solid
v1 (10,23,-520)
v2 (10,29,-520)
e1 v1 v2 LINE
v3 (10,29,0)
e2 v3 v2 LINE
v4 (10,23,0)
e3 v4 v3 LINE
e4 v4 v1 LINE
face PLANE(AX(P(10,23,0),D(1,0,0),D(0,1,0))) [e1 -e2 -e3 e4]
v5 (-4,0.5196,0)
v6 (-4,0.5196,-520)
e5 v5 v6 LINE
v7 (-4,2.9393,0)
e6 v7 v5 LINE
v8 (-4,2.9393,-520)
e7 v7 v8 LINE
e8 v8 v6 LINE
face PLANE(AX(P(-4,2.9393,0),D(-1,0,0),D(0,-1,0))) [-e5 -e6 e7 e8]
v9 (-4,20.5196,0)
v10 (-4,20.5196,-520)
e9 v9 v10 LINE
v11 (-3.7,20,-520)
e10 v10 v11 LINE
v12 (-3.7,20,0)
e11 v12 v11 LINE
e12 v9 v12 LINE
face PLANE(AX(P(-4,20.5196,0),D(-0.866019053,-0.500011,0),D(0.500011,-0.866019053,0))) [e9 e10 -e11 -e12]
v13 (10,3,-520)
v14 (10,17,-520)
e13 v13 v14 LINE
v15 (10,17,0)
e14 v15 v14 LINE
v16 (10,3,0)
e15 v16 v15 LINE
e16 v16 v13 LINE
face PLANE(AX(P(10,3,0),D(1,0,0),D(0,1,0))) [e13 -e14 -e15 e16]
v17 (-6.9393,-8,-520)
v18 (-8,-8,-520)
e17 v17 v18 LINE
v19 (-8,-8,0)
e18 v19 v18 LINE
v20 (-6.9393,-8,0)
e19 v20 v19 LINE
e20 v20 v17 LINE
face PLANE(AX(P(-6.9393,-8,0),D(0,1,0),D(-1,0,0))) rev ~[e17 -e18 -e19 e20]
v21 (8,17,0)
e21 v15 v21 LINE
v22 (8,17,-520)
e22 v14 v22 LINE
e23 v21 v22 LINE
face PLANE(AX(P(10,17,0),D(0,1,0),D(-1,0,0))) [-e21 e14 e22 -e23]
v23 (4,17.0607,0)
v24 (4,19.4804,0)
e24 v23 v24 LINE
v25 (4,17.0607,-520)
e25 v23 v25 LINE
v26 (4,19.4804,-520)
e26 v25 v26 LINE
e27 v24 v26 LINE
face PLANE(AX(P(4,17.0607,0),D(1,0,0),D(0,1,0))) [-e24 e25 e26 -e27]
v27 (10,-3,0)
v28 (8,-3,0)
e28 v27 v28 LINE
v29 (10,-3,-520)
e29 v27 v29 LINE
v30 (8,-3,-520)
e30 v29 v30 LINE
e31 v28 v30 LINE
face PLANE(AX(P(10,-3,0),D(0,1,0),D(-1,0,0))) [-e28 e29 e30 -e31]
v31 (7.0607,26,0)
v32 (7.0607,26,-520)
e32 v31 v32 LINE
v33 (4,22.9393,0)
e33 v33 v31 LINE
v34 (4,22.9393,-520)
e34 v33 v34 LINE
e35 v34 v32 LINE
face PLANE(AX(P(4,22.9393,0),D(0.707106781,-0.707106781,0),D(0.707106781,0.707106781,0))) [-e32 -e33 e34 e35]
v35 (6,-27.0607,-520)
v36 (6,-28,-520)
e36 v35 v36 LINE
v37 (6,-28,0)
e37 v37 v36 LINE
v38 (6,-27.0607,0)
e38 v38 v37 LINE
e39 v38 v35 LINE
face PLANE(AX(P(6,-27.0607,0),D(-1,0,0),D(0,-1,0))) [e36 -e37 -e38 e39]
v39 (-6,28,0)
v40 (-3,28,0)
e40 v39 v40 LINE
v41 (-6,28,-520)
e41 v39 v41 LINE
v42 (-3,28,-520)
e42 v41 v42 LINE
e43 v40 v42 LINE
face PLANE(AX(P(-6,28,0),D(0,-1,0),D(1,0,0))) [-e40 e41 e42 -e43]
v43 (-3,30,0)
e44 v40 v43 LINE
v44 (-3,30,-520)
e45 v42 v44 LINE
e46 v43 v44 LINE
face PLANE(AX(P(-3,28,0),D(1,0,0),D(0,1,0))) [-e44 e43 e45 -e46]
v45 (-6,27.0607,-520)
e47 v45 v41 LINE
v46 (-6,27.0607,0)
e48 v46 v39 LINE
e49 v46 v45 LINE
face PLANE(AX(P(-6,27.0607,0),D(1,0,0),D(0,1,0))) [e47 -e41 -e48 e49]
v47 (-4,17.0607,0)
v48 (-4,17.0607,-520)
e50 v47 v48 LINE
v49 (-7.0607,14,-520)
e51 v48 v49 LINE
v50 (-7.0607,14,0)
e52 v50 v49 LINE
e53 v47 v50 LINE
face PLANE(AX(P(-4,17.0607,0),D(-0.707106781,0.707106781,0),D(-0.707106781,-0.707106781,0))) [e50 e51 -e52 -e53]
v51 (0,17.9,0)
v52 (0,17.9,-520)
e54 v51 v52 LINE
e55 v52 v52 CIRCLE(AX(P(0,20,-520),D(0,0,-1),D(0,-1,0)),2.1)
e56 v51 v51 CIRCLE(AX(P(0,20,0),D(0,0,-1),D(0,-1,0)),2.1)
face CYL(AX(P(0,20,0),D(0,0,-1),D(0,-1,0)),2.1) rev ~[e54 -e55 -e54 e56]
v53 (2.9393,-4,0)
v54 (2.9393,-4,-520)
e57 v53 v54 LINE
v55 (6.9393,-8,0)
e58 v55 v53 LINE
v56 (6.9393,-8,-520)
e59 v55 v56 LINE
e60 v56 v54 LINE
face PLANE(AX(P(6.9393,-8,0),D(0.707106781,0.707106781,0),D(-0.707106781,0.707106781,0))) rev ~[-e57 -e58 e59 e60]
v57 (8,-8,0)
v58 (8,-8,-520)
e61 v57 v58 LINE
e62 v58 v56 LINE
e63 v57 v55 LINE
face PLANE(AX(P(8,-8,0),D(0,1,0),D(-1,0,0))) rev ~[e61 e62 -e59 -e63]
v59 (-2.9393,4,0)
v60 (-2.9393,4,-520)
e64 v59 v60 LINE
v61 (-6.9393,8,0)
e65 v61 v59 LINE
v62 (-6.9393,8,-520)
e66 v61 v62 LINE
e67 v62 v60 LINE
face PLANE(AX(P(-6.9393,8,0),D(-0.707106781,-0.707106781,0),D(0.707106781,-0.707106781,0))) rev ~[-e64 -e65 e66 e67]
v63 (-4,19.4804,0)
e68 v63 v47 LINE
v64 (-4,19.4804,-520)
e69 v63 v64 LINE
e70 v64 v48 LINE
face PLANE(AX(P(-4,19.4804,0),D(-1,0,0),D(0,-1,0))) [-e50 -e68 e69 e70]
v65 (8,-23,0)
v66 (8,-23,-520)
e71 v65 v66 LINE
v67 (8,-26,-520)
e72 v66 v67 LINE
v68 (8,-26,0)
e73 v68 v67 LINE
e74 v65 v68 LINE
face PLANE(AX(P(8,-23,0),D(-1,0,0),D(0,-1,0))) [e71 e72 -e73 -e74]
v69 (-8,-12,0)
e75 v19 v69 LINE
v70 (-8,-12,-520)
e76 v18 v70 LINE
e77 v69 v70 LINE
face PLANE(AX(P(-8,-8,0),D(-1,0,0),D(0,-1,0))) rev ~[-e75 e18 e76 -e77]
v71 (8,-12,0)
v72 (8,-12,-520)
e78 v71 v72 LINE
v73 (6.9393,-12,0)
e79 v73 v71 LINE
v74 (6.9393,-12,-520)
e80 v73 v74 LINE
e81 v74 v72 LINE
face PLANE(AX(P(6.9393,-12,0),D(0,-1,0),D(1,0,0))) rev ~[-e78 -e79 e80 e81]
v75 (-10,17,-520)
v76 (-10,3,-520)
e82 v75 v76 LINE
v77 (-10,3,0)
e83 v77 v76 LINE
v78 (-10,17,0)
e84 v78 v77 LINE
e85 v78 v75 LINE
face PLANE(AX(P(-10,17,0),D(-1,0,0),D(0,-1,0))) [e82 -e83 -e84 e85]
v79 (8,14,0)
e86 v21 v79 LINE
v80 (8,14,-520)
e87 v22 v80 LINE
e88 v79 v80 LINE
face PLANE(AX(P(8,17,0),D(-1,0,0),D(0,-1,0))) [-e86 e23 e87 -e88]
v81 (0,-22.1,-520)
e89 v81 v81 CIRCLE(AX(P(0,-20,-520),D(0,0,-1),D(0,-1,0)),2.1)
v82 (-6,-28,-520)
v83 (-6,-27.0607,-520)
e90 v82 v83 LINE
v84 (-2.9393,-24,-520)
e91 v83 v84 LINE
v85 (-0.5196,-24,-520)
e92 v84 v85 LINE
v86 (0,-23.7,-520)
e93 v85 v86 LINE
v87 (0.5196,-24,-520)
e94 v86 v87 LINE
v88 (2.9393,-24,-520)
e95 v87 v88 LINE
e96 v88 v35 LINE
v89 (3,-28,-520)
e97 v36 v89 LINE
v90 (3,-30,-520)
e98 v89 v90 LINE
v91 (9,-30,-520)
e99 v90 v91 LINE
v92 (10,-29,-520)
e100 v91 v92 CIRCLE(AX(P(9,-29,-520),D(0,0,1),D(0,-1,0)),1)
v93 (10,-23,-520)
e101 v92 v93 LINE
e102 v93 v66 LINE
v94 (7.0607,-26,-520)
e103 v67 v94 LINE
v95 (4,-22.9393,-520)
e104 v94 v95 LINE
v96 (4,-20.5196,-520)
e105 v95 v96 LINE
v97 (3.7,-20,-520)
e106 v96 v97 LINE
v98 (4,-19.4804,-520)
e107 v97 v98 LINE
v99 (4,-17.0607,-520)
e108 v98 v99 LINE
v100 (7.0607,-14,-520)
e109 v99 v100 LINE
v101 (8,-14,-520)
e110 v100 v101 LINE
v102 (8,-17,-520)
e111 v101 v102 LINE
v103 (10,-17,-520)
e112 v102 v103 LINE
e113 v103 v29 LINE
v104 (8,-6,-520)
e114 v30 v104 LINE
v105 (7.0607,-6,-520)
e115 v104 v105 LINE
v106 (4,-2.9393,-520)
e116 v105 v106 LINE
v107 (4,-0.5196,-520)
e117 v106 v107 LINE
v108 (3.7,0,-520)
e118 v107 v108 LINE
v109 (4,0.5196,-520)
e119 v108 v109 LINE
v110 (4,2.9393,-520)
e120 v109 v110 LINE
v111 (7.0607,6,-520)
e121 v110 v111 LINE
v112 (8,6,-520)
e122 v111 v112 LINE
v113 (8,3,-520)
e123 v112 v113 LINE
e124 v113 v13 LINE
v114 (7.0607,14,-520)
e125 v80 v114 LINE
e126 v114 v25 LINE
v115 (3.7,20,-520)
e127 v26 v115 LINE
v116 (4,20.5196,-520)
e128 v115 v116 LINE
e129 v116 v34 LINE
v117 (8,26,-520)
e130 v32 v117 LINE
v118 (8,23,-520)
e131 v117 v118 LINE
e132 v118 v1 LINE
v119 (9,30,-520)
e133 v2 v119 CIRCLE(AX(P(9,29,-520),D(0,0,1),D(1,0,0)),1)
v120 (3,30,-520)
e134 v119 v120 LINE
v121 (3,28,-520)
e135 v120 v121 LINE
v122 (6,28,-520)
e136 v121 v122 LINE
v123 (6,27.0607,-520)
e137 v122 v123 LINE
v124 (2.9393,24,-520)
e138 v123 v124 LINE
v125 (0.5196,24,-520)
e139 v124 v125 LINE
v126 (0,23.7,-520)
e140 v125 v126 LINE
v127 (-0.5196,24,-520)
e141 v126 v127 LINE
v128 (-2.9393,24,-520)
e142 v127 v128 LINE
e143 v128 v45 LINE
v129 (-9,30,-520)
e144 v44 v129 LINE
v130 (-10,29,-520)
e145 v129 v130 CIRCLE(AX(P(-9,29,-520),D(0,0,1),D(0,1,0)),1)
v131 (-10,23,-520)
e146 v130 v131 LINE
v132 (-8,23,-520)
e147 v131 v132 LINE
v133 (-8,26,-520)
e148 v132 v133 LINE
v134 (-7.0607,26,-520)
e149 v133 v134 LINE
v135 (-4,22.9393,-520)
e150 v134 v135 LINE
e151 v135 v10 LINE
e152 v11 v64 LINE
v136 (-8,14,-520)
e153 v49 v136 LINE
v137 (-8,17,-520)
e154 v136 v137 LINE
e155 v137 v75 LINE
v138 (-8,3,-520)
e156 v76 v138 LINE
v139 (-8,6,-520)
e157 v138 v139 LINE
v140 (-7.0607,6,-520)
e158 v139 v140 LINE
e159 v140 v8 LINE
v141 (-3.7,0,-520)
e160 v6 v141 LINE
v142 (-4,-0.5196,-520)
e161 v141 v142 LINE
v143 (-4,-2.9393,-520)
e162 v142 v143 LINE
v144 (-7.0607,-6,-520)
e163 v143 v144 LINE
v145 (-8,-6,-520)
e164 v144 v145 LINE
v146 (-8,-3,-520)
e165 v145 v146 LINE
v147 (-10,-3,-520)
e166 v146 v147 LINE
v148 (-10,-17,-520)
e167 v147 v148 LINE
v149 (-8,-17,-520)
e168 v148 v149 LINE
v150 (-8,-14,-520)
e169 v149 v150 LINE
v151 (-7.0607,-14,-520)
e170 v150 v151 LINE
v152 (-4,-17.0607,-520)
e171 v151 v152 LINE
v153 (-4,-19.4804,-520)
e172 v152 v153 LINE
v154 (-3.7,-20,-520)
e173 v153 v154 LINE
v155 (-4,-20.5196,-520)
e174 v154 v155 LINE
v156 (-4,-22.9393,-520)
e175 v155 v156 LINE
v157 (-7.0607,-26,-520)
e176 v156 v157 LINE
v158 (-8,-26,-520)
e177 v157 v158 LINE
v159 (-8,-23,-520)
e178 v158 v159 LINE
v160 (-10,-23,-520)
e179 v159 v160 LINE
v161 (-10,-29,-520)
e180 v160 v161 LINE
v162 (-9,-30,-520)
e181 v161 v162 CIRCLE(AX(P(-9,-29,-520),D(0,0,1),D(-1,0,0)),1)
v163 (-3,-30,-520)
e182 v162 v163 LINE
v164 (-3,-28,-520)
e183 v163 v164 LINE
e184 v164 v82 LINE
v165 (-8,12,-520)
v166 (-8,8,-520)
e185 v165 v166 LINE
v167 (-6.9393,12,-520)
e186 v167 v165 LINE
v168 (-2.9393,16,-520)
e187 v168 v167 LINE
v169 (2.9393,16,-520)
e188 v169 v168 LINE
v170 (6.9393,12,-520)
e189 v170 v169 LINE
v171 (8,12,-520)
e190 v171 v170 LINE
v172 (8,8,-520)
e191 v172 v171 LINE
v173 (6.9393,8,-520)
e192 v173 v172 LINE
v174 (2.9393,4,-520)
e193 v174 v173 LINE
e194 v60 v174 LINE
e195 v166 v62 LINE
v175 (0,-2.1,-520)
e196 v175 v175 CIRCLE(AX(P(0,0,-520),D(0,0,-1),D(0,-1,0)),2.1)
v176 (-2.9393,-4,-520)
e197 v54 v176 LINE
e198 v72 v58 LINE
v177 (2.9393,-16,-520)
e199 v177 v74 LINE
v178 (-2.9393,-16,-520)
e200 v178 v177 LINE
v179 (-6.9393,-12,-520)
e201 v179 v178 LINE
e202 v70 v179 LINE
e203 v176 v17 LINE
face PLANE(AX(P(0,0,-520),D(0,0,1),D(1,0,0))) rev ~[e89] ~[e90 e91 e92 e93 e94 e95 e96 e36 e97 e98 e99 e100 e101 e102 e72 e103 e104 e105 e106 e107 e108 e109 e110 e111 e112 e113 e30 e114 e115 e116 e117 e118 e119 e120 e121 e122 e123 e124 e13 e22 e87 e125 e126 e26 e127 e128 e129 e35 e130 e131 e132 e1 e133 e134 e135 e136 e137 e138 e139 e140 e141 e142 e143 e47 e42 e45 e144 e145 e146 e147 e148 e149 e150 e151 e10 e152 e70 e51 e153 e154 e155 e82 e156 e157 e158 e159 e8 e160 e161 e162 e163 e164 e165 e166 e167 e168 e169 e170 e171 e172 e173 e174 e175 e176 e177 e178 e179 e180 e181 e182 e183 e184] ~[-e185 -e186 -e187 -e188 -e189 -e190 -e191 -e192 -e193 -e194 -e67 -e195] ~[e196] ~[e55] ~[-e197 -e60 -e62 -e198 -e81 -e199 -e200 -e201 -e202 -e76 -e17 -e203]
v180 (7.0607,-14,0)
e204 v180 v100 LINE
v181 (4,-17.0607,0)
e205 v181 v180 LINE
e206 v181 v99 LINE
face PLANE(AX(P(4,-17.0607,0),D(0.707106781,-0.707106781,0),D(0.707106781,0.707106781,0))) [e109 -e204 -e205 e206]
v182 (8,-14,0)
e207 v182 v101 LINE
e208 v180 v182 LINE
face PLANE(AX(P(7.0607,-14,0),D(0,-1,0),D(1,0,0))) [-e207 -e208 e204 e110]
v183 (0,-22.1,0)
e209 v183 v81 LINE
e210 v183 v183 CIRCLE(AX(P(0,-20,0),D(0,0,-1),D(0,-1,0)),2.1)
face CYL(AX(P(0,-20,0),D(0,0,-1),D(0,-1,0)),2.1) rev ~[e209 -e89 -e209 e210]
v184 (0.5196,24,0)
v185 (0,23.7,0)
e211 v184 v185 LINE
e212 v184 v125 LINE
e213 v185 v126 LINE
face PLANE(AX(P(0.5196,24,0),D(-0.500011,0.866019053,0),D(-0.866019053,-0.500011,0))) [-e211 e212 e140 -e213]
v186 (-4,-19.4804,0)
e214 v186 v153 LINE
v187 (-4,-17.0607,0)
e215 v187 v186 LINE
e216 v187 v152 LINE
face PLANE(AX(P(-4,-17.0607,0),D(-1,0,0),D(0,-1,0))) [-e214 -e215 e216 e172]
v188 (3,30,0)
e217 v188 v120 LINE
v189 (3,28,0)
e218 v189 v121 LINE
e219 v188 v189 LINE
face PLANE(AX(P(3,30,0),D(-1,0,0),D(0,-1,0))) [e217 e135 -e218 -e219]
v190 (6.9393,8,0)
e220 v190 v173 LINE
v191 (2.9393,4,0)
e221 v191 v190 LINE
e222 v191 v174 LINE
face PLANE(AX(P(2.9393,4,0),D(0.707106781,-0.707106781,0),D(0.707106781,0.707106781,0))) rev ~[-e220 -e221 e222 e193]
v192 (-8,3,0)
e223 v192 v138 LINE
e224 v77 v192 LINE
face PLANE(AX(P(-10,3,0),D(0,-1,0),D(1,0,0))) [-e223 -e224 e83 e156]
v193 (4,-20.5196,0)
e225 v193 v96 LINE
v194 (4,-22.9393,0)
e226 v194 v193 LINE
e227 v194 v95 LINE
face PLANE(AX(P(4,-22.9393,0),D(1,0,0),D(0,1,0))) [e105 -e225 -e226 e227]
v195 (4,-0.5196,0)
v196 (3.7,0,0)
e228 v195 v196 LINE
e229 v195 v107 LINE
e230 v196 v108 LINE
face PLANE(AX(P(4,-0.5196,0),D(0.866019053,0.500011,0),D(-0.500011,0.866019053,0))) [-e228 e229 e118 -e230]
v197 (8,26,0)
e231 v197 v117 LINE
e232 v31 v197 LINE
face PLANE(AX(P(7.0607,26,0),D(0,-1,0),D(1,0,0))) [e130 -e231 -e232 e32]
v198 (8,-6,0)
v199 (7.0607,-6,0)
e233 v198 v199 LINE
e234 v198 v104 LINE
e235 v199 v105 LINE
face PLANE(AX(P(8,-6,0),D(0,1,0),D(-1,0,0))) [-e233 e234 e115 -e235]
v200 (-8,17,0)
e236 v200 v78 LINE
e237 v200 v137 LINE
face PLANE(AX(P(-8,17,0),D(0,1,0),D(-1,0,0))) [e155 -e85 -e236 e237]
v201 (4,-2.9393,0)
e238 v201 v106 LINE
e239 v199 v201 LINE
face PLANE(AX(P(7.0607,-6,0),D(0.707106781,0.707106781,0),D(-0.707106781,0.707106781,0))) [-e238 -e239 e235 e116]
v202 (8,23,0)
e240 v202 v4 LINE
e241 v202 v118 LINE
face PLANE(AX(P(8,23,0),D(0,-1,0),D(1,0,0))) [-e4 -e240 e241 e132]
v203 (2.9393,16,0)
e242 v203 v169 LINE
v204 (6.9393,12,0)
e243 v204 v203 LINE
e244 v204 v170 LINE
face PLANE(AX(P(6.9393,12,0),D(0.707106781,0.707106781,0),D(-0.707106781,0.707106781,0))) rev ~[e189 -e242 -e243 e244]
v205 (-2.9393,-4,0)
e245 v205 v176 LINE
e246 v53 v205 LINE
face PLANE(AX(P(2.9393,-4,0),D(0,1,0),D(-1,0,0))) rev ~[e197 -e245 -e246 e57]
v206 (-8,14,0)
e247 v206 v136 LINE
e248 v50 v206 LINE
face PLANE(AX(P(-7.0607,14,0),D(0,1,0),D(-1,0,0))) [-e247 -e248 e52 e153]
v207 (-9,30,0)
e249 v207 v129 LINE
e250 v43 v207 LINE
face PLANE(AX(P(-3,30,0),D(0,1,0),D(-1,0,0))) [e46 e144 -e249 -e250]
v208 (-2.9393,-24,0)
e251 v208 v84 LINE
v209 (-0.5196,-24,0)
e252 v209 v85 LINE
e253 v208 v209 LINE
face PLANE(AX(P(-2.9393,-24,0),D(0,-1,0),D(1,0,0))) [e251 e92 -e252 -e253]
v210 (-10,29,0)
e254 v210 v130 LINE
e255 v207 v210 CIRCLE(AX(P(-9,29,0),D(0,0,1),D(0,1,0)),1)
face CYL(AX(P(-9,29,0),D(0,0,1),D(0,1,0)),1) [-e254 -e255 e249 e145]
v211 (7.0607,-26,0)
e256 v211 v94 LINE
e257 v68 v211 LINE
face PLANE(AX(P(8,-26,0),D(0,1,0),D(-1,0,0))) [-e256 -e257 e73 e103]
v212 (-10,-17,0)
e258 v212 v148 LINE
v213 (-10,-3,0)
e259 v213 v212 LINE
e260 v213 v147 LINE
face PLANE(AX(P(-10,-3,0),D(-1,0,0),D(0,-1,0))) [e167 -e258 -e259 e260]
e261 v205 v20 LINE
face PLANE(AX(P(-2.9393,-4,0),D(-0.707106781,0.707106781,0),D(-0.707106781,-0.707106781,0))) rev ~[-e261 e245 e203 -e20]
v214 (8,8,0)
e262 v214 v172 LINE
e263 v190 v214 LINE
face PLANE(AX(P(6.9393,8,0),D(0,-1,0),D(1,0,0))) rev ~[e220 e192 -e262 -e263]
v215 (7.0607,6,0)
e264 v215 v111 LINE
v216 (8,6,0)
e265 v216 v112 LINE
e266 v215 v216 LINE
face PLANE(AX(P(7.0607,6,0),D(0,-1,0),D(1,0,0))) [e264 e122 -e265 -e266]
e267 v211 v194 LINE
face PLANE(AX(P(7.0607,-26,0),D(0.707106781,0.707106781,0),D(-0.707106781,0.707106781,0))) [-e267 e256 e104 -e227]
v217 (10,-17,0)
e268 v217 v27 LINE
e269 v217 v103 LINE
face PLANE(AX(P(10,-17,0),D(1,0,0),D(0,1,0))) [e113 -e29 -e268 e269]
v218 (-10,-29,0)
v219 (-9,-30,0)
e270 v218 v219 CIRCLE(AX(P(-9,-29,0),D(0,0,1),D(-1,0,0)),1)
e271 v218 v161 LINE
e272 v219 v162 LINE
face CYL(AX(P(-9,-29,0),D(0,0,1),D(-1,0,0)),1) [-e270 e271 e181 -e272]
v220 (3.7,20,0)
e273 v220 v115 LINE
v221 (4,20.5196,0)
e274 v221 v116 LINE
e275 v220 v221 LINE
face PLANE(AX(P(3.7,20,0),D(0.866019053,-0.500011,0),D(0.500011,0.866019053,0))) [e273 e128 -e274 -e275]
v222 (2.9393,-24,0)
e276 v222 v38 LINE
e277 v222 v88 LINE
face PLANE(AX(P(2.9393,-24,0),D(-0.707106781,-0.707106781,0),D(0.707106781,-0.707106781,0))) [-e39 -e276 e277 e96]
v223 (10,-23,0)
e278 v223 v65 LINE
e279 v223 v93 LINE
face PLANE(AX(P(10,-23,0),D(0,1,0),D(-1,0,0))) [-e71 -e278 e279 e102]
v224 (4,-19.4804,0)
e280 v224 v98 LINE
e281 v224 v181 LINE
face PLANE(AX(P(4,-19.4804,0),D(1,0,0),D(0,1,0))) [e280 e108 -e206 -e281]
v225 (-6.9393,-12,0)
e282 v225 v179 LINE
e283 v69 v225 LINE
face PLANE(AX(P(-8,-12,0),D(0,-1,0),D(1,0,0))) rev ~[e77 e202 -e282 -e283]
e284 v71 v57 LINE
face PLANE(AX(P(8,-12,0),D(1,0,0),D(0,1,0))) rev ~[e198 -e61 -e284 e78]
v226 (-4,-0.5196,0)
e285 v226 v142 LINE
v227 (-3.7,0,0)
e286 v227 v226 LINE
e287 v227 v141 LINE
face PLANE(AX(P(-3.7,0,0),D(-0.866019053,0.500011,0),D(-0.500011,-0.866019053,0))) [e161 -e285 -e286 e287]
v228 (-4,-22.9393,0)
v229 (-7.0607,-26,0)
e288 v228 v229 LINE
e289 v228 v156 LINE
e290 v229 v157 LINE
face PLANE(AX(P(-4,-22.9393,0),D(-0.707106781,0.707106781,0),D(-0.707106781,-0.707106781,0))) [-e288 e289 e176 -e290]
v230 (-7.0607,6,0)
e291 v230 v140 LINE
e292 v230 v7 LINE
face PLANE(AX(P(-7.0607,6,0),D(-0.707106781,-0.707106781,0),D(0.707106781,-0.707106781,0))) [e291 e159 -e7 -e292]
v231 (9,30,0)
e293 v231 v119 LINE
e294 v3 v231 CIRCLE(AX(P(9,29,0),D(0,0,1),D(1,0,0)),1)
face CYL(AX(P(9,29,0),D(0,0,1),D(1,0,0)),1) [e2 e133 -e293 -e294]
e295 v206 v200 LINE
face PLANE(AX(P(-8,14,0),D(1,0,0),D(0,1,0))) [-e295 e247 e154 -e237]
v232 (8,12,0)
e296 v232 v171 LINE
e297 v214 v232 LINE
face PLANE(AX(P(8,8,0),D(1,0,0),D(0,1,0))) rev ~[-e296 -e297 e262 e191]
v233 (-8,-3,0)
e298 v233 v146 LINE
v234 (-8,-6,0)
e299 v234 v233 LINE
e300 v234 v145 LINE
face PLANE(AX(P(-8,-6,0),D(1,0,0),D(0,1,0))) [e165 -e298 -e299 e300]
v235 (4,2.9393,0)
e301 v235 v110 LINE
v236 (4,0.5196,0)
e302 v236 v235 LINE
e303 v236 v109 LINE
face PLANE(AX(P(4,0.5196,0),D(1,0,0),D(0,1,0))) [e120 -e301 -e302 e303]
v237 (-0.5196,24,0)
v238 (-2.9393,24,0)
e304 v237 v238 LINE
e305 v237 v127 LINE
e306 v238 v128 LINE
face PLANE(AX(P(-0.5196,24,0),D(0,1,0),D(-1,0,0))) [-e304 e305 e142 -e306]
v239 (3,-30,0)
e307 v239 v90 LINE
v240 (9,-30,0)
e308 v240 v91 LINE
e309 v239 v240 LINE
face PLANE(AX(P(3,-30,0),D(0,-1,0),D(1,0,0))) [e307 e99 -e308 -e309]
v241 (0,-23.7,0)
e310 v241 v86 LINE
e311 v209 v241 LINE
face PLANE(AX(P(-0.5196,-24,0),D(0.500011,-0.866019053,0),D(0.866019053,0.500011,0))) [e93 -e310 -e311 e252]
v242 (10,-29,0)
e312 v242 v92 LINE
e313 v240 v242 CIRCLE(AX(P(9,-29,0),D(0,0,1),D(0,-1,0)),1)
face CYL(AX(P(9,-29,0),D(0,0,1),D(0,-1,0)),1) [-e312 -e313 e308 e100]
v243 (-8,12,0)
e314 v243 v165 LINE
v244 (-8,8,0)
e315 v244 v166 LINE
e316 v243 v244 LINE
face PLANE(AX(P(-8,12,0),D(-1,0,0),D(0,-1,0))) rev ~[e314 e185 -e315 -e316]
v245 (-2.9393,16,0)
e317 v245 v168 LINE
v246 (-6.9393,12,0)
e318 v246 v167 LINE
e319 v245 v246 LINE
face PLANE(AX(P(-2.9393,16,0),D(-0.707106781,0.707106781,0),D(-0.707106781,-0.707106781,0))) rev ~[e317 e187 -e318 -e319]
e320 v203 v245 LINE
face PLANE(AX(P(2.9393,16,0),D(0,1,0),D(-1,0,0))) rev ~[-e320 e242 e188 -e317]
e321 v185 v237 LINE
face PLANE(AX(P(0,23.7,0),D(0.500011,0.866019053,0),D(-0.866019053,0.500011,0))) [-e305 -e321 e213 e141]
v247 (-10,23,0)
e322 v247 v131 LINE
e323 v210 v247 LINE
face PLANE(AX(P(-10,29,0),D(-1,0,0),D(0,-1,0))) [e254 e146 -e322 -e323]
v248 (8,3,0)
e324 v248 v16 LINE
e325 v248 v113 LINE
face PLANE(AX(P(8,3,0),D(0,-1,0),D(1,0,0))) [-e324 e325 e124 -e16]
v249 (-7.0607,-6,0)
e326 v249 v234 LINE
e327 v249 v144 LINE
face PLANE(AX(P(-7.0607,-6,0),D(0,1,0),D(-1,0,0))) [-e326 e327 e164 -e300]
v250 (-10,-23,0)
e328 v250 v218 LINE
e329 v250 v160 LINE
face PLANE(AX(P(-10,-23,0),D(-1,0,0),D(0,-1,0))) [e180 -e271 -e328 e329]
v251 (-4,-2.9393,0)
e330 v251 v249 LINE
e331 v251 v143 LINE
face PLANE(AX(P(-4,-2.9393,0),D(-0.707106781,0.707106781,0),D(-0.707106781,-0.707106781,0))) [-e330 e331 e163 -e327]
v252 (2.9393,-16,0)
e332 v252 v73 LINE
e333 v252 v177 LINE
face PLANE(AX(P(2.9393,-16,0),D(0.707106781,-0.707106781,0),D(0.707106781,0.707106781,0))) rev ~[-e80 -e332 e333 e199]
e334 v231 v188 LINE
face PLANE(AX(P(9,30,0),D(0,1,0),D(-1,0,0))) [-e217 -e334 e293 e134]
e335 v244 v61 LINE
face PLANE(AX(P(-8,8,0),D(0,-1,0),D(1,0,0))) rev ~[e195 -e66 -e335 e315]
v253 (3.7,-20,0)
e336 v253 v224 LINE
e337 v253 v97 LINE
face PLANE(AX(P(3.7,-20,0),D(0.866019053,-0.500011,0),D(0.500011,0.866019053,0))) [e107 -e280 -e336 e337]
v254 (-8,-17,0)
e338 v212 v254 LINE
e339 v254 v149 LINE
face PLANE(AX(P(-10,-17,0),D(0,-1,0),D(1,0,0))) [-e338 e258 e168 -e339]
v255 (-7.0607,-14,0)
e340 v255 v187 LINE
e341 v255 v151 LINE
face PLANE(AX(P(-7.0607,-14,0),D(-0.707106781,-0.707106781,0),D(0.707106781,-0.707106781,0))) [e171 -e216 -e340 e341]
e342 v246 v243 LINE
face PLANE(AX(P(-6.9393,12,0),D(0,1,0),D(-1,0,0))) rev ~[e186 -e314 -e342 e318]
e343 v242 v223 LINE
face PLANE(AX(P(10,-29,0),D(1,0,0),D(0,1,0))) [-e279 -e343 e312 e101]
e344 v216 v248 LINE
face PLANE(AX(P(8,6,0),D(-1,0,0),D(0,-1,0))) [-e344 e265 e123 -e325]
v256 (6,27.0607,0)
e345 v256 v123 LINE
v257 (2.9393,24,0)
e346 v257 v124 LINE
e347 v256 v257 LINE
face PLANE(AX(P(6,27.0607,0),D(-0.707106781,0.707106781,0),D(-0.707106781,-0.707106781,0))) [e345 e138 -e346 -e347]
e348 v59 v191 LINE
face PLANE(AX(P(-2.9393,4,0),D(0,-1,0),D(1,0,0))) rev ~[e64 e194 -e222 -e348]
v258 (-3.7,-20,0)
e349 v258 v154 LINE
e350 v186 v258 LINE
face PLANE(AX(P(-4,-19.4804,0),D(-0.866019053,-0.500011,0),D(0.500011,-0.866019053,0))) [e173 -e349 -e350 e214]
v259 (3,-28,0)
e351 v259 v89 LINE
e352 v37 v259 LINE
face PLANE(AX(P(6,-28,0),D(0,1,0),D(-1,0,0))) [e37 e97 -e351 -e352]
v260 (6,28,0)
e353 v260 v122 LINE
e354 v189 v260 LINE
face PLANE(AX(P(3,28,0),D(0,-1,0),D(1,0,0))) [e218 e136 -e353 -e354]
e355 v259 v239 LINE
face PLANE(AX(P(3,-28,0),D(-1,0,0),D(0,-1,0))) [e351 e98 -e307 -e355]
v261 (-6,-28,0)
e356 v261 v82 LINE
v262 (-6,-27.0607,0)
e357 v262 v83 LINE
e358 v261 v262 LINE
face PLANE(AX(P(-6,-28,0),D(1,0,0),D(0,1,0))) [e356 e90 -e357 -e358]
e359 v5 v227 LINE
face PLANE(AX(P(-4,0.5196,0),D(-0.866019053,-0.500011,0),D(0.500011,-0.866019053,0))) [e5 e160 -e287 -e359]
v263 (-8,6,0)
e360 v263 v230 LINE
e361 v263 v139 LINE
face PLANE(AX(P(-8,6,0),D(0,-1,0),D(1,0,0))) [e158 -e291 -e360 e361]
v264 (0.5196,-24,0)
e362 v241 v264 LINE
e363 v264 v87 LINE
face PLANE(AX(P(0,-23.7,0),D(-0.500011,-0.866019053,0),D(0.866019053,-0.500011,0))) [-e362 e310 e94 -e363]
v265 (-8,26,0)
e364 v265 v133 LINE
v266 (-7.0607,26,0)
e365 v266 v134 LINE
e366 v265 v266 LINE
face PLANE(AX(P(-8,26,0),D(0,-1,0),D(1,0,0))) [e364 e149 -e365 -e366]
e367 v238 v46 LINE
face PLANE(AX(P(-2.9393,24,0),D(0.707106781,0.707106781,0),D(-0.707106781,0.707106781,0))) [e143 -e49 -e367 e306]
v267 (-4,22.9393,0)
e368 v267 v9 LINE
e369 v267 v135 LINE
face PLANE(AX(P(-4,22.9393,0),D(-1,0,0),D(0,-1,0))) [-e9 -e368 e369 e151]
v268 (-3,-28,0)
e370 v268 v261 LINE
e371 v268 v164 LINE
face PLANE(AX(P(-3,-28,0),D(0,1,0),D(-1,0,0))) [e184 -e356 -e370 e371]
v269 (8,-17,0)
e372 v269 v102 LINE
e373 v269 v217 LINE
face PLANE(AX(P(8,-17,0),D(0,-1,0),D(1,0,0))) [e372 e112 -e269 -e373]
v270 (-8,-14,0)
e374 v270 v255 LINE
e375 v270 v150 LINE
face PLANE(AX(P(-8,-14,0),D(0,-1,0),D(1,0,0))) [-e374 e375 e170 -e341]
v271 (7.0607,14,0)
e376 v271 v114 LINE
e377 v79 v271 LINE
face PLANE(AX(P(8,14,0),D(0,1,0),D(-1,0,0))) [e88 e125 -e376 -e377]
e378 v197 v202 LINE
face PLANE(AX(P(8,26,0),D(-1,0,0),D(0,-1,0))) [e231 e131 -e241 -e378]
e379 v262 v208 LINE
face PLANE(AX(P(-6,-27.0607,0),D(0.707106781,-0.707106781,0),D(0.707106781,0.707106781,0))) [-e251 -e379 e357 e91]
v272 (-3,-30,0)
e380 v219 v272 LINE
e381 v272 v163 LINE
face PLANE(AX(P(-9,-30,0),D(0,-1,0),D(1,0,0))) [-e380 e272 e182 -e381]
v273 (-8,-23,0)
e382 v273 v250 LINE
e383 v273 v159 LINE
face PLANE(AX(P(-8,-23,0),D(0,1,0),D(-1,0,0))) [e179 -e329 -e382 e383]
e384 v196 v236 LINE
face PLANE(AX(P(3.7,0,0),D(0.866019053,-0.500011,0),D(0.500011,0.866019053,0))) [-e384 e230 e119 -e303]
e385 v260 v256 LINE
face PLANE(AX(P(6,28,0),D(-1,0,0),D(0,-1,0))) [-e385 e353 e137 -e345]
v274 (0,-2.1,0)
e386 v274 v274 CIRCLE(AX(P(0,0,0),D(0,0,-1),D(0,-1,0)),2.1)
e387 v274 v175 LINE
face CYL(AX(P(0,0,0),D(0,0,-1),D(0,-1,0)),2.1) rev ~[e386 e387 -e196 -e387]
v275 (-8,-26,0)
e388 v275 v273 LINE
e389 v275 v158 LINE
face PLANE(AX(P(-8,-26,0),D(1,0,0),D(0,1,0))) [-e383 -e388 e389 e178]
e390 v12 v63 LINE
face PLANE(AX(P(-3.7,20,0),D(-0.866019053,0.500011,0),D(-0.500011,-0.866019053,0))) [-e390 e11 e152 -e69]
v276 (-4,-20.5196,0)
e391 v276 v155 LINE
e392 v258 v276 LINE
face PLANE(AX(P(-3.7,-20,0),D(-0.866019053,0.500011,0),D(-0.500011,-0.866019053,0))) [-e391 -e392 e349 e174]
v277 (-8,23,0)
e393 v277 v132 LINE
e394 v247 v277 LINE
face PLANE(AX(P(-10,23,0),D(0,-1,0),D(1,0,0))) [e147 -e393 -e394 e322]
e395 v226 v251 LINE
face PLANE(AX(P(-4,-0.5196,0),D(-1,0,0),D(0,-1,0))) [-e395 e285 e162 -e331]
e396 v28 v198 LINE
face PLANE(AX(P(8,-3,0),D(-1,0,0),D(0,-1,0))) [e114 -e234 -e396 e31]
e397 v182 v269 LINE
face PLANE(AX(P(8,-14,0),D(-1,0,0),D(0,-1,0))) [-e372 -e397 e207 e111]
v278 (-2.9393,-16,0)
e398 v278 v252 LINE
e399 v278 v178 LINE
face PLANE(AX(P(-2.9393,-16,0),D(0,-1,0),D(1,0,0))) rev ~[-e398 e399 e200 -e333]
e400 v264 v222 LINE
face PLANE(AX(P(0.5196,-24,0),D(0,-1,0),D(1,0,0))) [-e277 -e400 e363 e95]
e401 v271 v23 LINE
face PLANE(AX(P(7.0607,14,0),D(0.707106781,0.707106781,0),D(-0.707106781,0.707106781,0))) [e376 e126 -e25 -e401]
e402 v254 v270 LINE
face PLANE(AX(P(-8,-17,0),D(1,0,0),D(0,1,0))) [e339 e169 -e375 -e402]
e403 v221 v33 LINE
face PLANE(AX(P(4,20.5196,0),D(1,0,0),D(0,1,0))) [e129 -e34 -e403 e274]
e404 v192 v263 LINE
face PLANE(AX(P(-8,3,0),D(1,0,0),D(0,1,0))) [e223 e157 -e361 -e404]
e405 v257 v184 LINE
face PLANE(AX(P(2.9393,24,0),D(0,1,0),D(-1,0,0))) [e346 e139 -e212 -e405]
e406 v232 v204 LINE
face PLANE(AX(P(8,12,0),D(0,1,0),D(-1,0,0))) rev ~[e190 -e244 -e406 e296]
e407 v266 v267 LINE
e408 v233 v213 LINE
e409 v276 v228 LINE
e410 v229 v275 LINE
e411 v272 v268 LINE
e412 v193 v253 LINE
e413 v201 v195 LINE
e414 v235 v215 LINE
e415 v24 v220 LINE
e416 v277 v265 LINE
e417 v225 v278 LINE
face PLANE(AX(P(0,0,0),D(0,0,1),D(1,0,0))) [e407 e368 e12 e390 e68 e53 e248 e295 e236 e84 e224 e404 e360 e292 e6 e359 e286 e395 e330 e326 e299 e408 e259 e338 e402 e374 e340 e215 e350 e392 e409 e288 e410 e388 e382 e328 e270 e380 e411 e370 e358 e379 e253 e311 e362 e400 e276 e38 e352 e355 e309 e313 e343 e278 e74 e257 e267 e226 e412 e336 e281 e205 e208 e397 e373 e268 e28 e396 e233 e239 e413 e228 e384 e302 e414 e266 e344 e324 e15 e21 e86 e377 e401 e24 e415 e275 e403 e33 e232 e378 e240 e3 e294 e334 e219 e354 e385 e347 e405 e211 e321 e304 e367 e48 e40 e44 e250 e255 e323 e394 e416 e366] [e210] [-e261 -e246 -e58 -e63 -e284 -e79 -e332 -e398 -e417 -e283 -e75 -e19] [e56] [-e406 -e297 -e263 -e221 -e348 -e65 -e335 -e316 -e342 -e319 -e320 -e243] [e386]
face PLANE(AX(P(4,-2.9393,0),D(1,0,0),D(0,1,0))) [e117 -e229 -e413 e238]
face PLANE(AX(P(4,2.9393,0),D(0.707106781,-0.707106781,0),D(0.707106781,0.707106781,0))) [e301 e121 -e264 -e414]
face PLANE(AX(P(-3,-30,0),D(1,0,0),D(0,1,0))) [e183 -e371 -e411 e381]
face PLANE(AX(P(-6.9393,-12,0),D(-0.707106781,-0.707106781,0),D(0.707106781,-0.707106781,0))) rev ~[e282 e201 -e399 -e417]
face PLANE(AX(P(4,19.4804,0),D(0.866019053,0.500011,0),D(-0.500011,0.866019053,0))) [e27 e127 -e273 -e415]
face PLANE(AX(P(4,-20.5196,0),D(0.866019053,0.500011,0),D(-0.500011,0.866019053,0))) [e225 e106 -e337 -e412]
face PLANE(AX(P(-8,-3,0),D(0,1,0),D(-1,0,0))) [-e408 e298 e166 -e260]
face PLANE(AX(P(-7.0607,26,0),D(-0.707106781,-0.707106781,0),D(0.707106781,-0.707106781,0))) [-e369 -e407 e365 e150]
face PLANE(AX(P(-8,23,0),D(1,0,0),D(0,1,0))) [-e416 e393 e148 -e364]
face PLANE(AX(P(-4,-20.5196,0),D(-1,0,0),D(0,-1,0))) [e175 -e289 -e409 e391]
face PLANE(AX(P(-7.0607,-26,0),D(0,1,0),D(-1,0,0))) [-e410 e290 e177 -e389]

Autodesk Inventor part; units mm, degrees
ref_plane "YZ Plane" through (0, 0, 0) normal (1, 0, 0) x (0, 1, 0)
ref_plane "XZ Plane" through (0, 0, 0) normal (0, 1, 0) x (-1, 0, 0)
ref_plane "XY Plane" through (0, 0, 0) normal (0, 0, 1) x (1, 0, 0)
sketch "Sketch_100" plane through (0, 0, 0) normal (0, 0, 1) x (1, 0, 0)
  line L0 (-10, -17) -> (-8, -17)
  line L1 (-8, -17) -> (-8, -14)
  line L2 (-8, -14) -> (-7.0607, -14)
  line L3 (-7.0607, -14) -> (-4, -17.0607)
  line L4 (-4, -17.0607) -> (-4, -19.4804)
  line L5 (-4, -19.4804) -> (-3.7, -20)
  line L6 (-3.7, -20) -> (-4, -20.5196)
  line L7 (-4, -20.5196) -> (-4, -22.9393)
  line L8 (-4, -22.9393) -> (-7.0607, -26)
  line L9 (-7.0607, -26) -> (-8, -26)
  line L10 (-8, -26) -> (-8, -23)
  line L11 (-8, -23) -> (-10, -23)
  line L12 (-10, -23) -> (-10, -29)
  arc A0 (-10, -29) -> (-9, -30) centre (-9, -29) ccw
  line L13 (-9, -30) -> (-3, -30)
  line L14 (-3, -30) -> (-3, -28)
  line L15 (-3, -28) -> (-6, -28)
  line L16 (-6, -28) -> (-6, -27.0607)
  line L17 (-6, -27.0607) -> (-2.9393, -24)
  line L18 (-2.9393, -24) -> (-0.5196, -24)
  line L19 (-0.5196, -24) -> (0, -23.7)
  line L20 (0, -23.7) -> (0.5196, -24)
  line L21 (0.5196, -24) -> (2.9393, -24)
  line L22 (2.9393, -24) -> (6, -27.0607)
  line L23 (6, -27.0607) -> (6, -28)
  line L24 (6, -28) -> (3, -28)
  line L25 (3, -28) -> (3, -30)
  line L26 (3, -30) -> (9, -30)
  arc A1 (9, -30) -> (10, -29) centre (9, -29) ccw
  line L27 (10, -29) -> (10, -23)
  line L28 (10, -23) -> (8, -23)
  line L29 (8, -23) -> (8, -26)
  line L30 (8, -26) -> (7.0607, -26)
  line L31 (7.0607, -26) -> (4, -22.9393)
  line L32 (4, -22.9393) -> (4, -20.5196)
  line L33 (4, -20.5196) -> (3.7, -20)
  line L34 (3.7, -20) -> (4, -19.4804)
  line L35 (4, -19.4804) -> (4, -17.0607)
  line L36 (4, -17.0607) -> (7.0607, -14)
  line L37 (7.0607, -14) -> (8, -14)
  line L38 (8, -14) -> (8, -17)
  line L39 (8, -17) -> (10, -17)
  line L40 (10, -17) -> (10, -3)
  line L41 (10, -3) -> (8, -3)
  line L42 (8, -3) -> (8, -6)
  line L43 (8, -6) -> (7.0607, -6)
  line L44 (7.0607, -6) -> (4, -2.9393)
  line L45 (4, -2.9393) -> (4, -0.5196)
  line L46 (4, -0.5196) -> (3.7, 0)
  line L47 (3.7, 0) -> (4, 0.5196)
  line L48 (4, 0.5196) -> (4, 2.9393)
  line L49 (4, 2.9393) -> (7.0607, 6)
  line L50 (7.0607, 6) -> (8, 6)
  line L51 (8, 6) -> (8, 3)
  line L52 (8, 3) -> (10, 3)
  line L53 (10, 3) -> (10, 17)
  line L54 (10, 17) -> (8, 17)
  line L55 (8, 17) -> (8, 14)
  line L56 (8, 14) -> (7.0607, 14)
  line L57 (7.0607, 14) -> (4, 17.0607)
  line L58 (4, 17.0607) -> (4, 19.4804)
  line L59 (4, 19.4804) -> (3.7, 20)
  line L60 (3.7, 20) -> (4, 20.5196)
  line L61 (4, 20.5196) -> (4, 22.9393)
  line L62 (4, 22.9393) -> (7.0607, 26)
  line L63 (7.0607, 26) -> (8, 26)
  line L64 (8, 26) -> (8, 23)
  line L65 (8, 23) -> (10, 23)
  line L66 (10, 23) -> (10, 29)
  arc A2 (10, 29) -> (9, 30) centre (9, 29) ccw
  line L67 (9, 30) -> (3, 30)
  line L68 (3, 30) -> (3, 28)
  line L69 (3, 28) -> (6, 28)
  line L70 (6, 28) -> (6, 27.0607)
  line L71 (6, 27.0607) -> (2.9393, 24)
  line L72 (2.9393, 24) -> (0.5196, 24)
  line L73 (0.5196, 24) -> (0, 23.7)
  line L74 (0, 23.7) -> (-0.5196, 24)
  line L75 (-0.5196, 24) -> (-2.9393, 24)
  line L76 (-2.9393, 24) -> (-6, 27.0607)
  line L77 (-6, 27.0607) -> (-6, 28)
  line L78 (-6, 28) -> (-3, 28)
  line L79 (-3, 28) -> (-3, 30)
  line L80 (-3, 30) -> (-9, 30)
  arc A3 (-9, 30) -> (-10, 29) centre (-9, 29) ccw
  line L81 (-10, 29) -> (-10, 23)
  line L82 (-10, 23) -> (-8, 23)
  line L83 (-8, 23) -> (-8, 26)
  line L84 (-8, 26) -> (-7.0607, 26)
  line L85 (-7.0607, 26) -> (-4, 22.9393)
  line L86 (-4, 22.9393) -> (-4, 20.5196)
  line L87 (-4, 20.5196) -> (-3.7, 20)
  line L88 (-3.7, 20) -> (-4, 19.4804)
  line L89 (-4, 19.4804) -> (-4, 17.0607)
  line L90 (-4, 17.0607) -> (-7.0607, 14)
  line L91 (-7.0607, 14) -> (-8, 14)
  line L92 (-8, 14) -> (-8, 17)
  line L93 (-8, 17) -> (-10, 17)
  line L94 (-10, 17) -> (-10, 3)
  line L95 (-10, 3) -> (-8, 3)
  line L96 (-8, 3) -> (-8, 6)
  line L97 (-8, 6) -> (-7.0607, 6)
  line L98 (-7.0607, 6) -> (-4, 2.9393)
  line L99 (-4, 2.9393) -> (-4, 0.5196)
  line L100 (-4, 0.5196) -> (-3.7, 0)
  line L101 (-3.7, 0) -> (-4, -0.5196)
  line L102 (-4, -0.5196) -> (-4, -2.9393)
  line L103 (-4, -2.9393) -> (-7.0607, -6)
  line L104 (-7.0607, -6) -> (-8, -6)
  line L105 (-8, -6) -> (-8, -3)
  line L106 (-8, -3) -> (-10, -3)
  line L107 (-10, -3) -> (-10, -17)
  line L108 (-8, 8) -> (-6.9393, 8)
  line L109 (-6.9393, 8) -> (-2.9393, 4)
  line L110 (-2.9393, 4) -> (2.9393, 4)
  line L111 (2.9393, 4) -> (6.9393, 8)
  line L112 (6.9393, 8) -> (8, 8)
  line L113 (8, 8) -> (8, 12)
  line L114 (8, 12) -> (6.9393, 12)
  line L115 (6.9393, 12) -> (2.9393, 16)
  line L116 (2.9393, 16) -> (-2.9393, 16)
  line L117 (-2.9393, 16) -> (-6.9393, 12)
  line L118 (-6.9393, 12) -> (-8, 12)
  line L119 (-8, 12) -> (-8, 8)
  line L120 (-8, -8) -> (-8, -12)
  line L121 (-8, -12) -> (-6.9393, -12)
  line L122 (-6.9393, -12) -> (-2.9393, -16)
  line L123 (-2.9393, -16) -> (2.9393, -16)
  line L124 (2.9393, -16) -> (6.9393, -12)
  line L125 (6.9393, -12) -> (8, -12)
  line L126 (8, -12) -> (8, -8)
  line L127 (8, -8) -> (6.9393, -8)
  line L128 (6.9393, -8) -> (2.9393, -4)
  line L129 (2.9393, -4) -> (-2.9393, -4)
  line L130 (-2.9393, -4) -> (-6.9393, -8)
  line L131 (-6.9393, -8) -> (-8, -8)
extrude "Extrusion1" add sketch "Sketch_100" against normal blind 520
sketch "Sketch2" plane through (0, 0, 0) normal (0, 0, 1) x (1, 0, 0)
  point P0 (0, 20)
hole "Hole1" at (0, 20, 0) direction (0, 0, -1) diameter 4.2 depth 520
pattern_linear "Rectangular Pattern1" count 3 spacing 20 along (0, -1, 0) of "Hole1"
properties part number "HFS5-2060-520"
